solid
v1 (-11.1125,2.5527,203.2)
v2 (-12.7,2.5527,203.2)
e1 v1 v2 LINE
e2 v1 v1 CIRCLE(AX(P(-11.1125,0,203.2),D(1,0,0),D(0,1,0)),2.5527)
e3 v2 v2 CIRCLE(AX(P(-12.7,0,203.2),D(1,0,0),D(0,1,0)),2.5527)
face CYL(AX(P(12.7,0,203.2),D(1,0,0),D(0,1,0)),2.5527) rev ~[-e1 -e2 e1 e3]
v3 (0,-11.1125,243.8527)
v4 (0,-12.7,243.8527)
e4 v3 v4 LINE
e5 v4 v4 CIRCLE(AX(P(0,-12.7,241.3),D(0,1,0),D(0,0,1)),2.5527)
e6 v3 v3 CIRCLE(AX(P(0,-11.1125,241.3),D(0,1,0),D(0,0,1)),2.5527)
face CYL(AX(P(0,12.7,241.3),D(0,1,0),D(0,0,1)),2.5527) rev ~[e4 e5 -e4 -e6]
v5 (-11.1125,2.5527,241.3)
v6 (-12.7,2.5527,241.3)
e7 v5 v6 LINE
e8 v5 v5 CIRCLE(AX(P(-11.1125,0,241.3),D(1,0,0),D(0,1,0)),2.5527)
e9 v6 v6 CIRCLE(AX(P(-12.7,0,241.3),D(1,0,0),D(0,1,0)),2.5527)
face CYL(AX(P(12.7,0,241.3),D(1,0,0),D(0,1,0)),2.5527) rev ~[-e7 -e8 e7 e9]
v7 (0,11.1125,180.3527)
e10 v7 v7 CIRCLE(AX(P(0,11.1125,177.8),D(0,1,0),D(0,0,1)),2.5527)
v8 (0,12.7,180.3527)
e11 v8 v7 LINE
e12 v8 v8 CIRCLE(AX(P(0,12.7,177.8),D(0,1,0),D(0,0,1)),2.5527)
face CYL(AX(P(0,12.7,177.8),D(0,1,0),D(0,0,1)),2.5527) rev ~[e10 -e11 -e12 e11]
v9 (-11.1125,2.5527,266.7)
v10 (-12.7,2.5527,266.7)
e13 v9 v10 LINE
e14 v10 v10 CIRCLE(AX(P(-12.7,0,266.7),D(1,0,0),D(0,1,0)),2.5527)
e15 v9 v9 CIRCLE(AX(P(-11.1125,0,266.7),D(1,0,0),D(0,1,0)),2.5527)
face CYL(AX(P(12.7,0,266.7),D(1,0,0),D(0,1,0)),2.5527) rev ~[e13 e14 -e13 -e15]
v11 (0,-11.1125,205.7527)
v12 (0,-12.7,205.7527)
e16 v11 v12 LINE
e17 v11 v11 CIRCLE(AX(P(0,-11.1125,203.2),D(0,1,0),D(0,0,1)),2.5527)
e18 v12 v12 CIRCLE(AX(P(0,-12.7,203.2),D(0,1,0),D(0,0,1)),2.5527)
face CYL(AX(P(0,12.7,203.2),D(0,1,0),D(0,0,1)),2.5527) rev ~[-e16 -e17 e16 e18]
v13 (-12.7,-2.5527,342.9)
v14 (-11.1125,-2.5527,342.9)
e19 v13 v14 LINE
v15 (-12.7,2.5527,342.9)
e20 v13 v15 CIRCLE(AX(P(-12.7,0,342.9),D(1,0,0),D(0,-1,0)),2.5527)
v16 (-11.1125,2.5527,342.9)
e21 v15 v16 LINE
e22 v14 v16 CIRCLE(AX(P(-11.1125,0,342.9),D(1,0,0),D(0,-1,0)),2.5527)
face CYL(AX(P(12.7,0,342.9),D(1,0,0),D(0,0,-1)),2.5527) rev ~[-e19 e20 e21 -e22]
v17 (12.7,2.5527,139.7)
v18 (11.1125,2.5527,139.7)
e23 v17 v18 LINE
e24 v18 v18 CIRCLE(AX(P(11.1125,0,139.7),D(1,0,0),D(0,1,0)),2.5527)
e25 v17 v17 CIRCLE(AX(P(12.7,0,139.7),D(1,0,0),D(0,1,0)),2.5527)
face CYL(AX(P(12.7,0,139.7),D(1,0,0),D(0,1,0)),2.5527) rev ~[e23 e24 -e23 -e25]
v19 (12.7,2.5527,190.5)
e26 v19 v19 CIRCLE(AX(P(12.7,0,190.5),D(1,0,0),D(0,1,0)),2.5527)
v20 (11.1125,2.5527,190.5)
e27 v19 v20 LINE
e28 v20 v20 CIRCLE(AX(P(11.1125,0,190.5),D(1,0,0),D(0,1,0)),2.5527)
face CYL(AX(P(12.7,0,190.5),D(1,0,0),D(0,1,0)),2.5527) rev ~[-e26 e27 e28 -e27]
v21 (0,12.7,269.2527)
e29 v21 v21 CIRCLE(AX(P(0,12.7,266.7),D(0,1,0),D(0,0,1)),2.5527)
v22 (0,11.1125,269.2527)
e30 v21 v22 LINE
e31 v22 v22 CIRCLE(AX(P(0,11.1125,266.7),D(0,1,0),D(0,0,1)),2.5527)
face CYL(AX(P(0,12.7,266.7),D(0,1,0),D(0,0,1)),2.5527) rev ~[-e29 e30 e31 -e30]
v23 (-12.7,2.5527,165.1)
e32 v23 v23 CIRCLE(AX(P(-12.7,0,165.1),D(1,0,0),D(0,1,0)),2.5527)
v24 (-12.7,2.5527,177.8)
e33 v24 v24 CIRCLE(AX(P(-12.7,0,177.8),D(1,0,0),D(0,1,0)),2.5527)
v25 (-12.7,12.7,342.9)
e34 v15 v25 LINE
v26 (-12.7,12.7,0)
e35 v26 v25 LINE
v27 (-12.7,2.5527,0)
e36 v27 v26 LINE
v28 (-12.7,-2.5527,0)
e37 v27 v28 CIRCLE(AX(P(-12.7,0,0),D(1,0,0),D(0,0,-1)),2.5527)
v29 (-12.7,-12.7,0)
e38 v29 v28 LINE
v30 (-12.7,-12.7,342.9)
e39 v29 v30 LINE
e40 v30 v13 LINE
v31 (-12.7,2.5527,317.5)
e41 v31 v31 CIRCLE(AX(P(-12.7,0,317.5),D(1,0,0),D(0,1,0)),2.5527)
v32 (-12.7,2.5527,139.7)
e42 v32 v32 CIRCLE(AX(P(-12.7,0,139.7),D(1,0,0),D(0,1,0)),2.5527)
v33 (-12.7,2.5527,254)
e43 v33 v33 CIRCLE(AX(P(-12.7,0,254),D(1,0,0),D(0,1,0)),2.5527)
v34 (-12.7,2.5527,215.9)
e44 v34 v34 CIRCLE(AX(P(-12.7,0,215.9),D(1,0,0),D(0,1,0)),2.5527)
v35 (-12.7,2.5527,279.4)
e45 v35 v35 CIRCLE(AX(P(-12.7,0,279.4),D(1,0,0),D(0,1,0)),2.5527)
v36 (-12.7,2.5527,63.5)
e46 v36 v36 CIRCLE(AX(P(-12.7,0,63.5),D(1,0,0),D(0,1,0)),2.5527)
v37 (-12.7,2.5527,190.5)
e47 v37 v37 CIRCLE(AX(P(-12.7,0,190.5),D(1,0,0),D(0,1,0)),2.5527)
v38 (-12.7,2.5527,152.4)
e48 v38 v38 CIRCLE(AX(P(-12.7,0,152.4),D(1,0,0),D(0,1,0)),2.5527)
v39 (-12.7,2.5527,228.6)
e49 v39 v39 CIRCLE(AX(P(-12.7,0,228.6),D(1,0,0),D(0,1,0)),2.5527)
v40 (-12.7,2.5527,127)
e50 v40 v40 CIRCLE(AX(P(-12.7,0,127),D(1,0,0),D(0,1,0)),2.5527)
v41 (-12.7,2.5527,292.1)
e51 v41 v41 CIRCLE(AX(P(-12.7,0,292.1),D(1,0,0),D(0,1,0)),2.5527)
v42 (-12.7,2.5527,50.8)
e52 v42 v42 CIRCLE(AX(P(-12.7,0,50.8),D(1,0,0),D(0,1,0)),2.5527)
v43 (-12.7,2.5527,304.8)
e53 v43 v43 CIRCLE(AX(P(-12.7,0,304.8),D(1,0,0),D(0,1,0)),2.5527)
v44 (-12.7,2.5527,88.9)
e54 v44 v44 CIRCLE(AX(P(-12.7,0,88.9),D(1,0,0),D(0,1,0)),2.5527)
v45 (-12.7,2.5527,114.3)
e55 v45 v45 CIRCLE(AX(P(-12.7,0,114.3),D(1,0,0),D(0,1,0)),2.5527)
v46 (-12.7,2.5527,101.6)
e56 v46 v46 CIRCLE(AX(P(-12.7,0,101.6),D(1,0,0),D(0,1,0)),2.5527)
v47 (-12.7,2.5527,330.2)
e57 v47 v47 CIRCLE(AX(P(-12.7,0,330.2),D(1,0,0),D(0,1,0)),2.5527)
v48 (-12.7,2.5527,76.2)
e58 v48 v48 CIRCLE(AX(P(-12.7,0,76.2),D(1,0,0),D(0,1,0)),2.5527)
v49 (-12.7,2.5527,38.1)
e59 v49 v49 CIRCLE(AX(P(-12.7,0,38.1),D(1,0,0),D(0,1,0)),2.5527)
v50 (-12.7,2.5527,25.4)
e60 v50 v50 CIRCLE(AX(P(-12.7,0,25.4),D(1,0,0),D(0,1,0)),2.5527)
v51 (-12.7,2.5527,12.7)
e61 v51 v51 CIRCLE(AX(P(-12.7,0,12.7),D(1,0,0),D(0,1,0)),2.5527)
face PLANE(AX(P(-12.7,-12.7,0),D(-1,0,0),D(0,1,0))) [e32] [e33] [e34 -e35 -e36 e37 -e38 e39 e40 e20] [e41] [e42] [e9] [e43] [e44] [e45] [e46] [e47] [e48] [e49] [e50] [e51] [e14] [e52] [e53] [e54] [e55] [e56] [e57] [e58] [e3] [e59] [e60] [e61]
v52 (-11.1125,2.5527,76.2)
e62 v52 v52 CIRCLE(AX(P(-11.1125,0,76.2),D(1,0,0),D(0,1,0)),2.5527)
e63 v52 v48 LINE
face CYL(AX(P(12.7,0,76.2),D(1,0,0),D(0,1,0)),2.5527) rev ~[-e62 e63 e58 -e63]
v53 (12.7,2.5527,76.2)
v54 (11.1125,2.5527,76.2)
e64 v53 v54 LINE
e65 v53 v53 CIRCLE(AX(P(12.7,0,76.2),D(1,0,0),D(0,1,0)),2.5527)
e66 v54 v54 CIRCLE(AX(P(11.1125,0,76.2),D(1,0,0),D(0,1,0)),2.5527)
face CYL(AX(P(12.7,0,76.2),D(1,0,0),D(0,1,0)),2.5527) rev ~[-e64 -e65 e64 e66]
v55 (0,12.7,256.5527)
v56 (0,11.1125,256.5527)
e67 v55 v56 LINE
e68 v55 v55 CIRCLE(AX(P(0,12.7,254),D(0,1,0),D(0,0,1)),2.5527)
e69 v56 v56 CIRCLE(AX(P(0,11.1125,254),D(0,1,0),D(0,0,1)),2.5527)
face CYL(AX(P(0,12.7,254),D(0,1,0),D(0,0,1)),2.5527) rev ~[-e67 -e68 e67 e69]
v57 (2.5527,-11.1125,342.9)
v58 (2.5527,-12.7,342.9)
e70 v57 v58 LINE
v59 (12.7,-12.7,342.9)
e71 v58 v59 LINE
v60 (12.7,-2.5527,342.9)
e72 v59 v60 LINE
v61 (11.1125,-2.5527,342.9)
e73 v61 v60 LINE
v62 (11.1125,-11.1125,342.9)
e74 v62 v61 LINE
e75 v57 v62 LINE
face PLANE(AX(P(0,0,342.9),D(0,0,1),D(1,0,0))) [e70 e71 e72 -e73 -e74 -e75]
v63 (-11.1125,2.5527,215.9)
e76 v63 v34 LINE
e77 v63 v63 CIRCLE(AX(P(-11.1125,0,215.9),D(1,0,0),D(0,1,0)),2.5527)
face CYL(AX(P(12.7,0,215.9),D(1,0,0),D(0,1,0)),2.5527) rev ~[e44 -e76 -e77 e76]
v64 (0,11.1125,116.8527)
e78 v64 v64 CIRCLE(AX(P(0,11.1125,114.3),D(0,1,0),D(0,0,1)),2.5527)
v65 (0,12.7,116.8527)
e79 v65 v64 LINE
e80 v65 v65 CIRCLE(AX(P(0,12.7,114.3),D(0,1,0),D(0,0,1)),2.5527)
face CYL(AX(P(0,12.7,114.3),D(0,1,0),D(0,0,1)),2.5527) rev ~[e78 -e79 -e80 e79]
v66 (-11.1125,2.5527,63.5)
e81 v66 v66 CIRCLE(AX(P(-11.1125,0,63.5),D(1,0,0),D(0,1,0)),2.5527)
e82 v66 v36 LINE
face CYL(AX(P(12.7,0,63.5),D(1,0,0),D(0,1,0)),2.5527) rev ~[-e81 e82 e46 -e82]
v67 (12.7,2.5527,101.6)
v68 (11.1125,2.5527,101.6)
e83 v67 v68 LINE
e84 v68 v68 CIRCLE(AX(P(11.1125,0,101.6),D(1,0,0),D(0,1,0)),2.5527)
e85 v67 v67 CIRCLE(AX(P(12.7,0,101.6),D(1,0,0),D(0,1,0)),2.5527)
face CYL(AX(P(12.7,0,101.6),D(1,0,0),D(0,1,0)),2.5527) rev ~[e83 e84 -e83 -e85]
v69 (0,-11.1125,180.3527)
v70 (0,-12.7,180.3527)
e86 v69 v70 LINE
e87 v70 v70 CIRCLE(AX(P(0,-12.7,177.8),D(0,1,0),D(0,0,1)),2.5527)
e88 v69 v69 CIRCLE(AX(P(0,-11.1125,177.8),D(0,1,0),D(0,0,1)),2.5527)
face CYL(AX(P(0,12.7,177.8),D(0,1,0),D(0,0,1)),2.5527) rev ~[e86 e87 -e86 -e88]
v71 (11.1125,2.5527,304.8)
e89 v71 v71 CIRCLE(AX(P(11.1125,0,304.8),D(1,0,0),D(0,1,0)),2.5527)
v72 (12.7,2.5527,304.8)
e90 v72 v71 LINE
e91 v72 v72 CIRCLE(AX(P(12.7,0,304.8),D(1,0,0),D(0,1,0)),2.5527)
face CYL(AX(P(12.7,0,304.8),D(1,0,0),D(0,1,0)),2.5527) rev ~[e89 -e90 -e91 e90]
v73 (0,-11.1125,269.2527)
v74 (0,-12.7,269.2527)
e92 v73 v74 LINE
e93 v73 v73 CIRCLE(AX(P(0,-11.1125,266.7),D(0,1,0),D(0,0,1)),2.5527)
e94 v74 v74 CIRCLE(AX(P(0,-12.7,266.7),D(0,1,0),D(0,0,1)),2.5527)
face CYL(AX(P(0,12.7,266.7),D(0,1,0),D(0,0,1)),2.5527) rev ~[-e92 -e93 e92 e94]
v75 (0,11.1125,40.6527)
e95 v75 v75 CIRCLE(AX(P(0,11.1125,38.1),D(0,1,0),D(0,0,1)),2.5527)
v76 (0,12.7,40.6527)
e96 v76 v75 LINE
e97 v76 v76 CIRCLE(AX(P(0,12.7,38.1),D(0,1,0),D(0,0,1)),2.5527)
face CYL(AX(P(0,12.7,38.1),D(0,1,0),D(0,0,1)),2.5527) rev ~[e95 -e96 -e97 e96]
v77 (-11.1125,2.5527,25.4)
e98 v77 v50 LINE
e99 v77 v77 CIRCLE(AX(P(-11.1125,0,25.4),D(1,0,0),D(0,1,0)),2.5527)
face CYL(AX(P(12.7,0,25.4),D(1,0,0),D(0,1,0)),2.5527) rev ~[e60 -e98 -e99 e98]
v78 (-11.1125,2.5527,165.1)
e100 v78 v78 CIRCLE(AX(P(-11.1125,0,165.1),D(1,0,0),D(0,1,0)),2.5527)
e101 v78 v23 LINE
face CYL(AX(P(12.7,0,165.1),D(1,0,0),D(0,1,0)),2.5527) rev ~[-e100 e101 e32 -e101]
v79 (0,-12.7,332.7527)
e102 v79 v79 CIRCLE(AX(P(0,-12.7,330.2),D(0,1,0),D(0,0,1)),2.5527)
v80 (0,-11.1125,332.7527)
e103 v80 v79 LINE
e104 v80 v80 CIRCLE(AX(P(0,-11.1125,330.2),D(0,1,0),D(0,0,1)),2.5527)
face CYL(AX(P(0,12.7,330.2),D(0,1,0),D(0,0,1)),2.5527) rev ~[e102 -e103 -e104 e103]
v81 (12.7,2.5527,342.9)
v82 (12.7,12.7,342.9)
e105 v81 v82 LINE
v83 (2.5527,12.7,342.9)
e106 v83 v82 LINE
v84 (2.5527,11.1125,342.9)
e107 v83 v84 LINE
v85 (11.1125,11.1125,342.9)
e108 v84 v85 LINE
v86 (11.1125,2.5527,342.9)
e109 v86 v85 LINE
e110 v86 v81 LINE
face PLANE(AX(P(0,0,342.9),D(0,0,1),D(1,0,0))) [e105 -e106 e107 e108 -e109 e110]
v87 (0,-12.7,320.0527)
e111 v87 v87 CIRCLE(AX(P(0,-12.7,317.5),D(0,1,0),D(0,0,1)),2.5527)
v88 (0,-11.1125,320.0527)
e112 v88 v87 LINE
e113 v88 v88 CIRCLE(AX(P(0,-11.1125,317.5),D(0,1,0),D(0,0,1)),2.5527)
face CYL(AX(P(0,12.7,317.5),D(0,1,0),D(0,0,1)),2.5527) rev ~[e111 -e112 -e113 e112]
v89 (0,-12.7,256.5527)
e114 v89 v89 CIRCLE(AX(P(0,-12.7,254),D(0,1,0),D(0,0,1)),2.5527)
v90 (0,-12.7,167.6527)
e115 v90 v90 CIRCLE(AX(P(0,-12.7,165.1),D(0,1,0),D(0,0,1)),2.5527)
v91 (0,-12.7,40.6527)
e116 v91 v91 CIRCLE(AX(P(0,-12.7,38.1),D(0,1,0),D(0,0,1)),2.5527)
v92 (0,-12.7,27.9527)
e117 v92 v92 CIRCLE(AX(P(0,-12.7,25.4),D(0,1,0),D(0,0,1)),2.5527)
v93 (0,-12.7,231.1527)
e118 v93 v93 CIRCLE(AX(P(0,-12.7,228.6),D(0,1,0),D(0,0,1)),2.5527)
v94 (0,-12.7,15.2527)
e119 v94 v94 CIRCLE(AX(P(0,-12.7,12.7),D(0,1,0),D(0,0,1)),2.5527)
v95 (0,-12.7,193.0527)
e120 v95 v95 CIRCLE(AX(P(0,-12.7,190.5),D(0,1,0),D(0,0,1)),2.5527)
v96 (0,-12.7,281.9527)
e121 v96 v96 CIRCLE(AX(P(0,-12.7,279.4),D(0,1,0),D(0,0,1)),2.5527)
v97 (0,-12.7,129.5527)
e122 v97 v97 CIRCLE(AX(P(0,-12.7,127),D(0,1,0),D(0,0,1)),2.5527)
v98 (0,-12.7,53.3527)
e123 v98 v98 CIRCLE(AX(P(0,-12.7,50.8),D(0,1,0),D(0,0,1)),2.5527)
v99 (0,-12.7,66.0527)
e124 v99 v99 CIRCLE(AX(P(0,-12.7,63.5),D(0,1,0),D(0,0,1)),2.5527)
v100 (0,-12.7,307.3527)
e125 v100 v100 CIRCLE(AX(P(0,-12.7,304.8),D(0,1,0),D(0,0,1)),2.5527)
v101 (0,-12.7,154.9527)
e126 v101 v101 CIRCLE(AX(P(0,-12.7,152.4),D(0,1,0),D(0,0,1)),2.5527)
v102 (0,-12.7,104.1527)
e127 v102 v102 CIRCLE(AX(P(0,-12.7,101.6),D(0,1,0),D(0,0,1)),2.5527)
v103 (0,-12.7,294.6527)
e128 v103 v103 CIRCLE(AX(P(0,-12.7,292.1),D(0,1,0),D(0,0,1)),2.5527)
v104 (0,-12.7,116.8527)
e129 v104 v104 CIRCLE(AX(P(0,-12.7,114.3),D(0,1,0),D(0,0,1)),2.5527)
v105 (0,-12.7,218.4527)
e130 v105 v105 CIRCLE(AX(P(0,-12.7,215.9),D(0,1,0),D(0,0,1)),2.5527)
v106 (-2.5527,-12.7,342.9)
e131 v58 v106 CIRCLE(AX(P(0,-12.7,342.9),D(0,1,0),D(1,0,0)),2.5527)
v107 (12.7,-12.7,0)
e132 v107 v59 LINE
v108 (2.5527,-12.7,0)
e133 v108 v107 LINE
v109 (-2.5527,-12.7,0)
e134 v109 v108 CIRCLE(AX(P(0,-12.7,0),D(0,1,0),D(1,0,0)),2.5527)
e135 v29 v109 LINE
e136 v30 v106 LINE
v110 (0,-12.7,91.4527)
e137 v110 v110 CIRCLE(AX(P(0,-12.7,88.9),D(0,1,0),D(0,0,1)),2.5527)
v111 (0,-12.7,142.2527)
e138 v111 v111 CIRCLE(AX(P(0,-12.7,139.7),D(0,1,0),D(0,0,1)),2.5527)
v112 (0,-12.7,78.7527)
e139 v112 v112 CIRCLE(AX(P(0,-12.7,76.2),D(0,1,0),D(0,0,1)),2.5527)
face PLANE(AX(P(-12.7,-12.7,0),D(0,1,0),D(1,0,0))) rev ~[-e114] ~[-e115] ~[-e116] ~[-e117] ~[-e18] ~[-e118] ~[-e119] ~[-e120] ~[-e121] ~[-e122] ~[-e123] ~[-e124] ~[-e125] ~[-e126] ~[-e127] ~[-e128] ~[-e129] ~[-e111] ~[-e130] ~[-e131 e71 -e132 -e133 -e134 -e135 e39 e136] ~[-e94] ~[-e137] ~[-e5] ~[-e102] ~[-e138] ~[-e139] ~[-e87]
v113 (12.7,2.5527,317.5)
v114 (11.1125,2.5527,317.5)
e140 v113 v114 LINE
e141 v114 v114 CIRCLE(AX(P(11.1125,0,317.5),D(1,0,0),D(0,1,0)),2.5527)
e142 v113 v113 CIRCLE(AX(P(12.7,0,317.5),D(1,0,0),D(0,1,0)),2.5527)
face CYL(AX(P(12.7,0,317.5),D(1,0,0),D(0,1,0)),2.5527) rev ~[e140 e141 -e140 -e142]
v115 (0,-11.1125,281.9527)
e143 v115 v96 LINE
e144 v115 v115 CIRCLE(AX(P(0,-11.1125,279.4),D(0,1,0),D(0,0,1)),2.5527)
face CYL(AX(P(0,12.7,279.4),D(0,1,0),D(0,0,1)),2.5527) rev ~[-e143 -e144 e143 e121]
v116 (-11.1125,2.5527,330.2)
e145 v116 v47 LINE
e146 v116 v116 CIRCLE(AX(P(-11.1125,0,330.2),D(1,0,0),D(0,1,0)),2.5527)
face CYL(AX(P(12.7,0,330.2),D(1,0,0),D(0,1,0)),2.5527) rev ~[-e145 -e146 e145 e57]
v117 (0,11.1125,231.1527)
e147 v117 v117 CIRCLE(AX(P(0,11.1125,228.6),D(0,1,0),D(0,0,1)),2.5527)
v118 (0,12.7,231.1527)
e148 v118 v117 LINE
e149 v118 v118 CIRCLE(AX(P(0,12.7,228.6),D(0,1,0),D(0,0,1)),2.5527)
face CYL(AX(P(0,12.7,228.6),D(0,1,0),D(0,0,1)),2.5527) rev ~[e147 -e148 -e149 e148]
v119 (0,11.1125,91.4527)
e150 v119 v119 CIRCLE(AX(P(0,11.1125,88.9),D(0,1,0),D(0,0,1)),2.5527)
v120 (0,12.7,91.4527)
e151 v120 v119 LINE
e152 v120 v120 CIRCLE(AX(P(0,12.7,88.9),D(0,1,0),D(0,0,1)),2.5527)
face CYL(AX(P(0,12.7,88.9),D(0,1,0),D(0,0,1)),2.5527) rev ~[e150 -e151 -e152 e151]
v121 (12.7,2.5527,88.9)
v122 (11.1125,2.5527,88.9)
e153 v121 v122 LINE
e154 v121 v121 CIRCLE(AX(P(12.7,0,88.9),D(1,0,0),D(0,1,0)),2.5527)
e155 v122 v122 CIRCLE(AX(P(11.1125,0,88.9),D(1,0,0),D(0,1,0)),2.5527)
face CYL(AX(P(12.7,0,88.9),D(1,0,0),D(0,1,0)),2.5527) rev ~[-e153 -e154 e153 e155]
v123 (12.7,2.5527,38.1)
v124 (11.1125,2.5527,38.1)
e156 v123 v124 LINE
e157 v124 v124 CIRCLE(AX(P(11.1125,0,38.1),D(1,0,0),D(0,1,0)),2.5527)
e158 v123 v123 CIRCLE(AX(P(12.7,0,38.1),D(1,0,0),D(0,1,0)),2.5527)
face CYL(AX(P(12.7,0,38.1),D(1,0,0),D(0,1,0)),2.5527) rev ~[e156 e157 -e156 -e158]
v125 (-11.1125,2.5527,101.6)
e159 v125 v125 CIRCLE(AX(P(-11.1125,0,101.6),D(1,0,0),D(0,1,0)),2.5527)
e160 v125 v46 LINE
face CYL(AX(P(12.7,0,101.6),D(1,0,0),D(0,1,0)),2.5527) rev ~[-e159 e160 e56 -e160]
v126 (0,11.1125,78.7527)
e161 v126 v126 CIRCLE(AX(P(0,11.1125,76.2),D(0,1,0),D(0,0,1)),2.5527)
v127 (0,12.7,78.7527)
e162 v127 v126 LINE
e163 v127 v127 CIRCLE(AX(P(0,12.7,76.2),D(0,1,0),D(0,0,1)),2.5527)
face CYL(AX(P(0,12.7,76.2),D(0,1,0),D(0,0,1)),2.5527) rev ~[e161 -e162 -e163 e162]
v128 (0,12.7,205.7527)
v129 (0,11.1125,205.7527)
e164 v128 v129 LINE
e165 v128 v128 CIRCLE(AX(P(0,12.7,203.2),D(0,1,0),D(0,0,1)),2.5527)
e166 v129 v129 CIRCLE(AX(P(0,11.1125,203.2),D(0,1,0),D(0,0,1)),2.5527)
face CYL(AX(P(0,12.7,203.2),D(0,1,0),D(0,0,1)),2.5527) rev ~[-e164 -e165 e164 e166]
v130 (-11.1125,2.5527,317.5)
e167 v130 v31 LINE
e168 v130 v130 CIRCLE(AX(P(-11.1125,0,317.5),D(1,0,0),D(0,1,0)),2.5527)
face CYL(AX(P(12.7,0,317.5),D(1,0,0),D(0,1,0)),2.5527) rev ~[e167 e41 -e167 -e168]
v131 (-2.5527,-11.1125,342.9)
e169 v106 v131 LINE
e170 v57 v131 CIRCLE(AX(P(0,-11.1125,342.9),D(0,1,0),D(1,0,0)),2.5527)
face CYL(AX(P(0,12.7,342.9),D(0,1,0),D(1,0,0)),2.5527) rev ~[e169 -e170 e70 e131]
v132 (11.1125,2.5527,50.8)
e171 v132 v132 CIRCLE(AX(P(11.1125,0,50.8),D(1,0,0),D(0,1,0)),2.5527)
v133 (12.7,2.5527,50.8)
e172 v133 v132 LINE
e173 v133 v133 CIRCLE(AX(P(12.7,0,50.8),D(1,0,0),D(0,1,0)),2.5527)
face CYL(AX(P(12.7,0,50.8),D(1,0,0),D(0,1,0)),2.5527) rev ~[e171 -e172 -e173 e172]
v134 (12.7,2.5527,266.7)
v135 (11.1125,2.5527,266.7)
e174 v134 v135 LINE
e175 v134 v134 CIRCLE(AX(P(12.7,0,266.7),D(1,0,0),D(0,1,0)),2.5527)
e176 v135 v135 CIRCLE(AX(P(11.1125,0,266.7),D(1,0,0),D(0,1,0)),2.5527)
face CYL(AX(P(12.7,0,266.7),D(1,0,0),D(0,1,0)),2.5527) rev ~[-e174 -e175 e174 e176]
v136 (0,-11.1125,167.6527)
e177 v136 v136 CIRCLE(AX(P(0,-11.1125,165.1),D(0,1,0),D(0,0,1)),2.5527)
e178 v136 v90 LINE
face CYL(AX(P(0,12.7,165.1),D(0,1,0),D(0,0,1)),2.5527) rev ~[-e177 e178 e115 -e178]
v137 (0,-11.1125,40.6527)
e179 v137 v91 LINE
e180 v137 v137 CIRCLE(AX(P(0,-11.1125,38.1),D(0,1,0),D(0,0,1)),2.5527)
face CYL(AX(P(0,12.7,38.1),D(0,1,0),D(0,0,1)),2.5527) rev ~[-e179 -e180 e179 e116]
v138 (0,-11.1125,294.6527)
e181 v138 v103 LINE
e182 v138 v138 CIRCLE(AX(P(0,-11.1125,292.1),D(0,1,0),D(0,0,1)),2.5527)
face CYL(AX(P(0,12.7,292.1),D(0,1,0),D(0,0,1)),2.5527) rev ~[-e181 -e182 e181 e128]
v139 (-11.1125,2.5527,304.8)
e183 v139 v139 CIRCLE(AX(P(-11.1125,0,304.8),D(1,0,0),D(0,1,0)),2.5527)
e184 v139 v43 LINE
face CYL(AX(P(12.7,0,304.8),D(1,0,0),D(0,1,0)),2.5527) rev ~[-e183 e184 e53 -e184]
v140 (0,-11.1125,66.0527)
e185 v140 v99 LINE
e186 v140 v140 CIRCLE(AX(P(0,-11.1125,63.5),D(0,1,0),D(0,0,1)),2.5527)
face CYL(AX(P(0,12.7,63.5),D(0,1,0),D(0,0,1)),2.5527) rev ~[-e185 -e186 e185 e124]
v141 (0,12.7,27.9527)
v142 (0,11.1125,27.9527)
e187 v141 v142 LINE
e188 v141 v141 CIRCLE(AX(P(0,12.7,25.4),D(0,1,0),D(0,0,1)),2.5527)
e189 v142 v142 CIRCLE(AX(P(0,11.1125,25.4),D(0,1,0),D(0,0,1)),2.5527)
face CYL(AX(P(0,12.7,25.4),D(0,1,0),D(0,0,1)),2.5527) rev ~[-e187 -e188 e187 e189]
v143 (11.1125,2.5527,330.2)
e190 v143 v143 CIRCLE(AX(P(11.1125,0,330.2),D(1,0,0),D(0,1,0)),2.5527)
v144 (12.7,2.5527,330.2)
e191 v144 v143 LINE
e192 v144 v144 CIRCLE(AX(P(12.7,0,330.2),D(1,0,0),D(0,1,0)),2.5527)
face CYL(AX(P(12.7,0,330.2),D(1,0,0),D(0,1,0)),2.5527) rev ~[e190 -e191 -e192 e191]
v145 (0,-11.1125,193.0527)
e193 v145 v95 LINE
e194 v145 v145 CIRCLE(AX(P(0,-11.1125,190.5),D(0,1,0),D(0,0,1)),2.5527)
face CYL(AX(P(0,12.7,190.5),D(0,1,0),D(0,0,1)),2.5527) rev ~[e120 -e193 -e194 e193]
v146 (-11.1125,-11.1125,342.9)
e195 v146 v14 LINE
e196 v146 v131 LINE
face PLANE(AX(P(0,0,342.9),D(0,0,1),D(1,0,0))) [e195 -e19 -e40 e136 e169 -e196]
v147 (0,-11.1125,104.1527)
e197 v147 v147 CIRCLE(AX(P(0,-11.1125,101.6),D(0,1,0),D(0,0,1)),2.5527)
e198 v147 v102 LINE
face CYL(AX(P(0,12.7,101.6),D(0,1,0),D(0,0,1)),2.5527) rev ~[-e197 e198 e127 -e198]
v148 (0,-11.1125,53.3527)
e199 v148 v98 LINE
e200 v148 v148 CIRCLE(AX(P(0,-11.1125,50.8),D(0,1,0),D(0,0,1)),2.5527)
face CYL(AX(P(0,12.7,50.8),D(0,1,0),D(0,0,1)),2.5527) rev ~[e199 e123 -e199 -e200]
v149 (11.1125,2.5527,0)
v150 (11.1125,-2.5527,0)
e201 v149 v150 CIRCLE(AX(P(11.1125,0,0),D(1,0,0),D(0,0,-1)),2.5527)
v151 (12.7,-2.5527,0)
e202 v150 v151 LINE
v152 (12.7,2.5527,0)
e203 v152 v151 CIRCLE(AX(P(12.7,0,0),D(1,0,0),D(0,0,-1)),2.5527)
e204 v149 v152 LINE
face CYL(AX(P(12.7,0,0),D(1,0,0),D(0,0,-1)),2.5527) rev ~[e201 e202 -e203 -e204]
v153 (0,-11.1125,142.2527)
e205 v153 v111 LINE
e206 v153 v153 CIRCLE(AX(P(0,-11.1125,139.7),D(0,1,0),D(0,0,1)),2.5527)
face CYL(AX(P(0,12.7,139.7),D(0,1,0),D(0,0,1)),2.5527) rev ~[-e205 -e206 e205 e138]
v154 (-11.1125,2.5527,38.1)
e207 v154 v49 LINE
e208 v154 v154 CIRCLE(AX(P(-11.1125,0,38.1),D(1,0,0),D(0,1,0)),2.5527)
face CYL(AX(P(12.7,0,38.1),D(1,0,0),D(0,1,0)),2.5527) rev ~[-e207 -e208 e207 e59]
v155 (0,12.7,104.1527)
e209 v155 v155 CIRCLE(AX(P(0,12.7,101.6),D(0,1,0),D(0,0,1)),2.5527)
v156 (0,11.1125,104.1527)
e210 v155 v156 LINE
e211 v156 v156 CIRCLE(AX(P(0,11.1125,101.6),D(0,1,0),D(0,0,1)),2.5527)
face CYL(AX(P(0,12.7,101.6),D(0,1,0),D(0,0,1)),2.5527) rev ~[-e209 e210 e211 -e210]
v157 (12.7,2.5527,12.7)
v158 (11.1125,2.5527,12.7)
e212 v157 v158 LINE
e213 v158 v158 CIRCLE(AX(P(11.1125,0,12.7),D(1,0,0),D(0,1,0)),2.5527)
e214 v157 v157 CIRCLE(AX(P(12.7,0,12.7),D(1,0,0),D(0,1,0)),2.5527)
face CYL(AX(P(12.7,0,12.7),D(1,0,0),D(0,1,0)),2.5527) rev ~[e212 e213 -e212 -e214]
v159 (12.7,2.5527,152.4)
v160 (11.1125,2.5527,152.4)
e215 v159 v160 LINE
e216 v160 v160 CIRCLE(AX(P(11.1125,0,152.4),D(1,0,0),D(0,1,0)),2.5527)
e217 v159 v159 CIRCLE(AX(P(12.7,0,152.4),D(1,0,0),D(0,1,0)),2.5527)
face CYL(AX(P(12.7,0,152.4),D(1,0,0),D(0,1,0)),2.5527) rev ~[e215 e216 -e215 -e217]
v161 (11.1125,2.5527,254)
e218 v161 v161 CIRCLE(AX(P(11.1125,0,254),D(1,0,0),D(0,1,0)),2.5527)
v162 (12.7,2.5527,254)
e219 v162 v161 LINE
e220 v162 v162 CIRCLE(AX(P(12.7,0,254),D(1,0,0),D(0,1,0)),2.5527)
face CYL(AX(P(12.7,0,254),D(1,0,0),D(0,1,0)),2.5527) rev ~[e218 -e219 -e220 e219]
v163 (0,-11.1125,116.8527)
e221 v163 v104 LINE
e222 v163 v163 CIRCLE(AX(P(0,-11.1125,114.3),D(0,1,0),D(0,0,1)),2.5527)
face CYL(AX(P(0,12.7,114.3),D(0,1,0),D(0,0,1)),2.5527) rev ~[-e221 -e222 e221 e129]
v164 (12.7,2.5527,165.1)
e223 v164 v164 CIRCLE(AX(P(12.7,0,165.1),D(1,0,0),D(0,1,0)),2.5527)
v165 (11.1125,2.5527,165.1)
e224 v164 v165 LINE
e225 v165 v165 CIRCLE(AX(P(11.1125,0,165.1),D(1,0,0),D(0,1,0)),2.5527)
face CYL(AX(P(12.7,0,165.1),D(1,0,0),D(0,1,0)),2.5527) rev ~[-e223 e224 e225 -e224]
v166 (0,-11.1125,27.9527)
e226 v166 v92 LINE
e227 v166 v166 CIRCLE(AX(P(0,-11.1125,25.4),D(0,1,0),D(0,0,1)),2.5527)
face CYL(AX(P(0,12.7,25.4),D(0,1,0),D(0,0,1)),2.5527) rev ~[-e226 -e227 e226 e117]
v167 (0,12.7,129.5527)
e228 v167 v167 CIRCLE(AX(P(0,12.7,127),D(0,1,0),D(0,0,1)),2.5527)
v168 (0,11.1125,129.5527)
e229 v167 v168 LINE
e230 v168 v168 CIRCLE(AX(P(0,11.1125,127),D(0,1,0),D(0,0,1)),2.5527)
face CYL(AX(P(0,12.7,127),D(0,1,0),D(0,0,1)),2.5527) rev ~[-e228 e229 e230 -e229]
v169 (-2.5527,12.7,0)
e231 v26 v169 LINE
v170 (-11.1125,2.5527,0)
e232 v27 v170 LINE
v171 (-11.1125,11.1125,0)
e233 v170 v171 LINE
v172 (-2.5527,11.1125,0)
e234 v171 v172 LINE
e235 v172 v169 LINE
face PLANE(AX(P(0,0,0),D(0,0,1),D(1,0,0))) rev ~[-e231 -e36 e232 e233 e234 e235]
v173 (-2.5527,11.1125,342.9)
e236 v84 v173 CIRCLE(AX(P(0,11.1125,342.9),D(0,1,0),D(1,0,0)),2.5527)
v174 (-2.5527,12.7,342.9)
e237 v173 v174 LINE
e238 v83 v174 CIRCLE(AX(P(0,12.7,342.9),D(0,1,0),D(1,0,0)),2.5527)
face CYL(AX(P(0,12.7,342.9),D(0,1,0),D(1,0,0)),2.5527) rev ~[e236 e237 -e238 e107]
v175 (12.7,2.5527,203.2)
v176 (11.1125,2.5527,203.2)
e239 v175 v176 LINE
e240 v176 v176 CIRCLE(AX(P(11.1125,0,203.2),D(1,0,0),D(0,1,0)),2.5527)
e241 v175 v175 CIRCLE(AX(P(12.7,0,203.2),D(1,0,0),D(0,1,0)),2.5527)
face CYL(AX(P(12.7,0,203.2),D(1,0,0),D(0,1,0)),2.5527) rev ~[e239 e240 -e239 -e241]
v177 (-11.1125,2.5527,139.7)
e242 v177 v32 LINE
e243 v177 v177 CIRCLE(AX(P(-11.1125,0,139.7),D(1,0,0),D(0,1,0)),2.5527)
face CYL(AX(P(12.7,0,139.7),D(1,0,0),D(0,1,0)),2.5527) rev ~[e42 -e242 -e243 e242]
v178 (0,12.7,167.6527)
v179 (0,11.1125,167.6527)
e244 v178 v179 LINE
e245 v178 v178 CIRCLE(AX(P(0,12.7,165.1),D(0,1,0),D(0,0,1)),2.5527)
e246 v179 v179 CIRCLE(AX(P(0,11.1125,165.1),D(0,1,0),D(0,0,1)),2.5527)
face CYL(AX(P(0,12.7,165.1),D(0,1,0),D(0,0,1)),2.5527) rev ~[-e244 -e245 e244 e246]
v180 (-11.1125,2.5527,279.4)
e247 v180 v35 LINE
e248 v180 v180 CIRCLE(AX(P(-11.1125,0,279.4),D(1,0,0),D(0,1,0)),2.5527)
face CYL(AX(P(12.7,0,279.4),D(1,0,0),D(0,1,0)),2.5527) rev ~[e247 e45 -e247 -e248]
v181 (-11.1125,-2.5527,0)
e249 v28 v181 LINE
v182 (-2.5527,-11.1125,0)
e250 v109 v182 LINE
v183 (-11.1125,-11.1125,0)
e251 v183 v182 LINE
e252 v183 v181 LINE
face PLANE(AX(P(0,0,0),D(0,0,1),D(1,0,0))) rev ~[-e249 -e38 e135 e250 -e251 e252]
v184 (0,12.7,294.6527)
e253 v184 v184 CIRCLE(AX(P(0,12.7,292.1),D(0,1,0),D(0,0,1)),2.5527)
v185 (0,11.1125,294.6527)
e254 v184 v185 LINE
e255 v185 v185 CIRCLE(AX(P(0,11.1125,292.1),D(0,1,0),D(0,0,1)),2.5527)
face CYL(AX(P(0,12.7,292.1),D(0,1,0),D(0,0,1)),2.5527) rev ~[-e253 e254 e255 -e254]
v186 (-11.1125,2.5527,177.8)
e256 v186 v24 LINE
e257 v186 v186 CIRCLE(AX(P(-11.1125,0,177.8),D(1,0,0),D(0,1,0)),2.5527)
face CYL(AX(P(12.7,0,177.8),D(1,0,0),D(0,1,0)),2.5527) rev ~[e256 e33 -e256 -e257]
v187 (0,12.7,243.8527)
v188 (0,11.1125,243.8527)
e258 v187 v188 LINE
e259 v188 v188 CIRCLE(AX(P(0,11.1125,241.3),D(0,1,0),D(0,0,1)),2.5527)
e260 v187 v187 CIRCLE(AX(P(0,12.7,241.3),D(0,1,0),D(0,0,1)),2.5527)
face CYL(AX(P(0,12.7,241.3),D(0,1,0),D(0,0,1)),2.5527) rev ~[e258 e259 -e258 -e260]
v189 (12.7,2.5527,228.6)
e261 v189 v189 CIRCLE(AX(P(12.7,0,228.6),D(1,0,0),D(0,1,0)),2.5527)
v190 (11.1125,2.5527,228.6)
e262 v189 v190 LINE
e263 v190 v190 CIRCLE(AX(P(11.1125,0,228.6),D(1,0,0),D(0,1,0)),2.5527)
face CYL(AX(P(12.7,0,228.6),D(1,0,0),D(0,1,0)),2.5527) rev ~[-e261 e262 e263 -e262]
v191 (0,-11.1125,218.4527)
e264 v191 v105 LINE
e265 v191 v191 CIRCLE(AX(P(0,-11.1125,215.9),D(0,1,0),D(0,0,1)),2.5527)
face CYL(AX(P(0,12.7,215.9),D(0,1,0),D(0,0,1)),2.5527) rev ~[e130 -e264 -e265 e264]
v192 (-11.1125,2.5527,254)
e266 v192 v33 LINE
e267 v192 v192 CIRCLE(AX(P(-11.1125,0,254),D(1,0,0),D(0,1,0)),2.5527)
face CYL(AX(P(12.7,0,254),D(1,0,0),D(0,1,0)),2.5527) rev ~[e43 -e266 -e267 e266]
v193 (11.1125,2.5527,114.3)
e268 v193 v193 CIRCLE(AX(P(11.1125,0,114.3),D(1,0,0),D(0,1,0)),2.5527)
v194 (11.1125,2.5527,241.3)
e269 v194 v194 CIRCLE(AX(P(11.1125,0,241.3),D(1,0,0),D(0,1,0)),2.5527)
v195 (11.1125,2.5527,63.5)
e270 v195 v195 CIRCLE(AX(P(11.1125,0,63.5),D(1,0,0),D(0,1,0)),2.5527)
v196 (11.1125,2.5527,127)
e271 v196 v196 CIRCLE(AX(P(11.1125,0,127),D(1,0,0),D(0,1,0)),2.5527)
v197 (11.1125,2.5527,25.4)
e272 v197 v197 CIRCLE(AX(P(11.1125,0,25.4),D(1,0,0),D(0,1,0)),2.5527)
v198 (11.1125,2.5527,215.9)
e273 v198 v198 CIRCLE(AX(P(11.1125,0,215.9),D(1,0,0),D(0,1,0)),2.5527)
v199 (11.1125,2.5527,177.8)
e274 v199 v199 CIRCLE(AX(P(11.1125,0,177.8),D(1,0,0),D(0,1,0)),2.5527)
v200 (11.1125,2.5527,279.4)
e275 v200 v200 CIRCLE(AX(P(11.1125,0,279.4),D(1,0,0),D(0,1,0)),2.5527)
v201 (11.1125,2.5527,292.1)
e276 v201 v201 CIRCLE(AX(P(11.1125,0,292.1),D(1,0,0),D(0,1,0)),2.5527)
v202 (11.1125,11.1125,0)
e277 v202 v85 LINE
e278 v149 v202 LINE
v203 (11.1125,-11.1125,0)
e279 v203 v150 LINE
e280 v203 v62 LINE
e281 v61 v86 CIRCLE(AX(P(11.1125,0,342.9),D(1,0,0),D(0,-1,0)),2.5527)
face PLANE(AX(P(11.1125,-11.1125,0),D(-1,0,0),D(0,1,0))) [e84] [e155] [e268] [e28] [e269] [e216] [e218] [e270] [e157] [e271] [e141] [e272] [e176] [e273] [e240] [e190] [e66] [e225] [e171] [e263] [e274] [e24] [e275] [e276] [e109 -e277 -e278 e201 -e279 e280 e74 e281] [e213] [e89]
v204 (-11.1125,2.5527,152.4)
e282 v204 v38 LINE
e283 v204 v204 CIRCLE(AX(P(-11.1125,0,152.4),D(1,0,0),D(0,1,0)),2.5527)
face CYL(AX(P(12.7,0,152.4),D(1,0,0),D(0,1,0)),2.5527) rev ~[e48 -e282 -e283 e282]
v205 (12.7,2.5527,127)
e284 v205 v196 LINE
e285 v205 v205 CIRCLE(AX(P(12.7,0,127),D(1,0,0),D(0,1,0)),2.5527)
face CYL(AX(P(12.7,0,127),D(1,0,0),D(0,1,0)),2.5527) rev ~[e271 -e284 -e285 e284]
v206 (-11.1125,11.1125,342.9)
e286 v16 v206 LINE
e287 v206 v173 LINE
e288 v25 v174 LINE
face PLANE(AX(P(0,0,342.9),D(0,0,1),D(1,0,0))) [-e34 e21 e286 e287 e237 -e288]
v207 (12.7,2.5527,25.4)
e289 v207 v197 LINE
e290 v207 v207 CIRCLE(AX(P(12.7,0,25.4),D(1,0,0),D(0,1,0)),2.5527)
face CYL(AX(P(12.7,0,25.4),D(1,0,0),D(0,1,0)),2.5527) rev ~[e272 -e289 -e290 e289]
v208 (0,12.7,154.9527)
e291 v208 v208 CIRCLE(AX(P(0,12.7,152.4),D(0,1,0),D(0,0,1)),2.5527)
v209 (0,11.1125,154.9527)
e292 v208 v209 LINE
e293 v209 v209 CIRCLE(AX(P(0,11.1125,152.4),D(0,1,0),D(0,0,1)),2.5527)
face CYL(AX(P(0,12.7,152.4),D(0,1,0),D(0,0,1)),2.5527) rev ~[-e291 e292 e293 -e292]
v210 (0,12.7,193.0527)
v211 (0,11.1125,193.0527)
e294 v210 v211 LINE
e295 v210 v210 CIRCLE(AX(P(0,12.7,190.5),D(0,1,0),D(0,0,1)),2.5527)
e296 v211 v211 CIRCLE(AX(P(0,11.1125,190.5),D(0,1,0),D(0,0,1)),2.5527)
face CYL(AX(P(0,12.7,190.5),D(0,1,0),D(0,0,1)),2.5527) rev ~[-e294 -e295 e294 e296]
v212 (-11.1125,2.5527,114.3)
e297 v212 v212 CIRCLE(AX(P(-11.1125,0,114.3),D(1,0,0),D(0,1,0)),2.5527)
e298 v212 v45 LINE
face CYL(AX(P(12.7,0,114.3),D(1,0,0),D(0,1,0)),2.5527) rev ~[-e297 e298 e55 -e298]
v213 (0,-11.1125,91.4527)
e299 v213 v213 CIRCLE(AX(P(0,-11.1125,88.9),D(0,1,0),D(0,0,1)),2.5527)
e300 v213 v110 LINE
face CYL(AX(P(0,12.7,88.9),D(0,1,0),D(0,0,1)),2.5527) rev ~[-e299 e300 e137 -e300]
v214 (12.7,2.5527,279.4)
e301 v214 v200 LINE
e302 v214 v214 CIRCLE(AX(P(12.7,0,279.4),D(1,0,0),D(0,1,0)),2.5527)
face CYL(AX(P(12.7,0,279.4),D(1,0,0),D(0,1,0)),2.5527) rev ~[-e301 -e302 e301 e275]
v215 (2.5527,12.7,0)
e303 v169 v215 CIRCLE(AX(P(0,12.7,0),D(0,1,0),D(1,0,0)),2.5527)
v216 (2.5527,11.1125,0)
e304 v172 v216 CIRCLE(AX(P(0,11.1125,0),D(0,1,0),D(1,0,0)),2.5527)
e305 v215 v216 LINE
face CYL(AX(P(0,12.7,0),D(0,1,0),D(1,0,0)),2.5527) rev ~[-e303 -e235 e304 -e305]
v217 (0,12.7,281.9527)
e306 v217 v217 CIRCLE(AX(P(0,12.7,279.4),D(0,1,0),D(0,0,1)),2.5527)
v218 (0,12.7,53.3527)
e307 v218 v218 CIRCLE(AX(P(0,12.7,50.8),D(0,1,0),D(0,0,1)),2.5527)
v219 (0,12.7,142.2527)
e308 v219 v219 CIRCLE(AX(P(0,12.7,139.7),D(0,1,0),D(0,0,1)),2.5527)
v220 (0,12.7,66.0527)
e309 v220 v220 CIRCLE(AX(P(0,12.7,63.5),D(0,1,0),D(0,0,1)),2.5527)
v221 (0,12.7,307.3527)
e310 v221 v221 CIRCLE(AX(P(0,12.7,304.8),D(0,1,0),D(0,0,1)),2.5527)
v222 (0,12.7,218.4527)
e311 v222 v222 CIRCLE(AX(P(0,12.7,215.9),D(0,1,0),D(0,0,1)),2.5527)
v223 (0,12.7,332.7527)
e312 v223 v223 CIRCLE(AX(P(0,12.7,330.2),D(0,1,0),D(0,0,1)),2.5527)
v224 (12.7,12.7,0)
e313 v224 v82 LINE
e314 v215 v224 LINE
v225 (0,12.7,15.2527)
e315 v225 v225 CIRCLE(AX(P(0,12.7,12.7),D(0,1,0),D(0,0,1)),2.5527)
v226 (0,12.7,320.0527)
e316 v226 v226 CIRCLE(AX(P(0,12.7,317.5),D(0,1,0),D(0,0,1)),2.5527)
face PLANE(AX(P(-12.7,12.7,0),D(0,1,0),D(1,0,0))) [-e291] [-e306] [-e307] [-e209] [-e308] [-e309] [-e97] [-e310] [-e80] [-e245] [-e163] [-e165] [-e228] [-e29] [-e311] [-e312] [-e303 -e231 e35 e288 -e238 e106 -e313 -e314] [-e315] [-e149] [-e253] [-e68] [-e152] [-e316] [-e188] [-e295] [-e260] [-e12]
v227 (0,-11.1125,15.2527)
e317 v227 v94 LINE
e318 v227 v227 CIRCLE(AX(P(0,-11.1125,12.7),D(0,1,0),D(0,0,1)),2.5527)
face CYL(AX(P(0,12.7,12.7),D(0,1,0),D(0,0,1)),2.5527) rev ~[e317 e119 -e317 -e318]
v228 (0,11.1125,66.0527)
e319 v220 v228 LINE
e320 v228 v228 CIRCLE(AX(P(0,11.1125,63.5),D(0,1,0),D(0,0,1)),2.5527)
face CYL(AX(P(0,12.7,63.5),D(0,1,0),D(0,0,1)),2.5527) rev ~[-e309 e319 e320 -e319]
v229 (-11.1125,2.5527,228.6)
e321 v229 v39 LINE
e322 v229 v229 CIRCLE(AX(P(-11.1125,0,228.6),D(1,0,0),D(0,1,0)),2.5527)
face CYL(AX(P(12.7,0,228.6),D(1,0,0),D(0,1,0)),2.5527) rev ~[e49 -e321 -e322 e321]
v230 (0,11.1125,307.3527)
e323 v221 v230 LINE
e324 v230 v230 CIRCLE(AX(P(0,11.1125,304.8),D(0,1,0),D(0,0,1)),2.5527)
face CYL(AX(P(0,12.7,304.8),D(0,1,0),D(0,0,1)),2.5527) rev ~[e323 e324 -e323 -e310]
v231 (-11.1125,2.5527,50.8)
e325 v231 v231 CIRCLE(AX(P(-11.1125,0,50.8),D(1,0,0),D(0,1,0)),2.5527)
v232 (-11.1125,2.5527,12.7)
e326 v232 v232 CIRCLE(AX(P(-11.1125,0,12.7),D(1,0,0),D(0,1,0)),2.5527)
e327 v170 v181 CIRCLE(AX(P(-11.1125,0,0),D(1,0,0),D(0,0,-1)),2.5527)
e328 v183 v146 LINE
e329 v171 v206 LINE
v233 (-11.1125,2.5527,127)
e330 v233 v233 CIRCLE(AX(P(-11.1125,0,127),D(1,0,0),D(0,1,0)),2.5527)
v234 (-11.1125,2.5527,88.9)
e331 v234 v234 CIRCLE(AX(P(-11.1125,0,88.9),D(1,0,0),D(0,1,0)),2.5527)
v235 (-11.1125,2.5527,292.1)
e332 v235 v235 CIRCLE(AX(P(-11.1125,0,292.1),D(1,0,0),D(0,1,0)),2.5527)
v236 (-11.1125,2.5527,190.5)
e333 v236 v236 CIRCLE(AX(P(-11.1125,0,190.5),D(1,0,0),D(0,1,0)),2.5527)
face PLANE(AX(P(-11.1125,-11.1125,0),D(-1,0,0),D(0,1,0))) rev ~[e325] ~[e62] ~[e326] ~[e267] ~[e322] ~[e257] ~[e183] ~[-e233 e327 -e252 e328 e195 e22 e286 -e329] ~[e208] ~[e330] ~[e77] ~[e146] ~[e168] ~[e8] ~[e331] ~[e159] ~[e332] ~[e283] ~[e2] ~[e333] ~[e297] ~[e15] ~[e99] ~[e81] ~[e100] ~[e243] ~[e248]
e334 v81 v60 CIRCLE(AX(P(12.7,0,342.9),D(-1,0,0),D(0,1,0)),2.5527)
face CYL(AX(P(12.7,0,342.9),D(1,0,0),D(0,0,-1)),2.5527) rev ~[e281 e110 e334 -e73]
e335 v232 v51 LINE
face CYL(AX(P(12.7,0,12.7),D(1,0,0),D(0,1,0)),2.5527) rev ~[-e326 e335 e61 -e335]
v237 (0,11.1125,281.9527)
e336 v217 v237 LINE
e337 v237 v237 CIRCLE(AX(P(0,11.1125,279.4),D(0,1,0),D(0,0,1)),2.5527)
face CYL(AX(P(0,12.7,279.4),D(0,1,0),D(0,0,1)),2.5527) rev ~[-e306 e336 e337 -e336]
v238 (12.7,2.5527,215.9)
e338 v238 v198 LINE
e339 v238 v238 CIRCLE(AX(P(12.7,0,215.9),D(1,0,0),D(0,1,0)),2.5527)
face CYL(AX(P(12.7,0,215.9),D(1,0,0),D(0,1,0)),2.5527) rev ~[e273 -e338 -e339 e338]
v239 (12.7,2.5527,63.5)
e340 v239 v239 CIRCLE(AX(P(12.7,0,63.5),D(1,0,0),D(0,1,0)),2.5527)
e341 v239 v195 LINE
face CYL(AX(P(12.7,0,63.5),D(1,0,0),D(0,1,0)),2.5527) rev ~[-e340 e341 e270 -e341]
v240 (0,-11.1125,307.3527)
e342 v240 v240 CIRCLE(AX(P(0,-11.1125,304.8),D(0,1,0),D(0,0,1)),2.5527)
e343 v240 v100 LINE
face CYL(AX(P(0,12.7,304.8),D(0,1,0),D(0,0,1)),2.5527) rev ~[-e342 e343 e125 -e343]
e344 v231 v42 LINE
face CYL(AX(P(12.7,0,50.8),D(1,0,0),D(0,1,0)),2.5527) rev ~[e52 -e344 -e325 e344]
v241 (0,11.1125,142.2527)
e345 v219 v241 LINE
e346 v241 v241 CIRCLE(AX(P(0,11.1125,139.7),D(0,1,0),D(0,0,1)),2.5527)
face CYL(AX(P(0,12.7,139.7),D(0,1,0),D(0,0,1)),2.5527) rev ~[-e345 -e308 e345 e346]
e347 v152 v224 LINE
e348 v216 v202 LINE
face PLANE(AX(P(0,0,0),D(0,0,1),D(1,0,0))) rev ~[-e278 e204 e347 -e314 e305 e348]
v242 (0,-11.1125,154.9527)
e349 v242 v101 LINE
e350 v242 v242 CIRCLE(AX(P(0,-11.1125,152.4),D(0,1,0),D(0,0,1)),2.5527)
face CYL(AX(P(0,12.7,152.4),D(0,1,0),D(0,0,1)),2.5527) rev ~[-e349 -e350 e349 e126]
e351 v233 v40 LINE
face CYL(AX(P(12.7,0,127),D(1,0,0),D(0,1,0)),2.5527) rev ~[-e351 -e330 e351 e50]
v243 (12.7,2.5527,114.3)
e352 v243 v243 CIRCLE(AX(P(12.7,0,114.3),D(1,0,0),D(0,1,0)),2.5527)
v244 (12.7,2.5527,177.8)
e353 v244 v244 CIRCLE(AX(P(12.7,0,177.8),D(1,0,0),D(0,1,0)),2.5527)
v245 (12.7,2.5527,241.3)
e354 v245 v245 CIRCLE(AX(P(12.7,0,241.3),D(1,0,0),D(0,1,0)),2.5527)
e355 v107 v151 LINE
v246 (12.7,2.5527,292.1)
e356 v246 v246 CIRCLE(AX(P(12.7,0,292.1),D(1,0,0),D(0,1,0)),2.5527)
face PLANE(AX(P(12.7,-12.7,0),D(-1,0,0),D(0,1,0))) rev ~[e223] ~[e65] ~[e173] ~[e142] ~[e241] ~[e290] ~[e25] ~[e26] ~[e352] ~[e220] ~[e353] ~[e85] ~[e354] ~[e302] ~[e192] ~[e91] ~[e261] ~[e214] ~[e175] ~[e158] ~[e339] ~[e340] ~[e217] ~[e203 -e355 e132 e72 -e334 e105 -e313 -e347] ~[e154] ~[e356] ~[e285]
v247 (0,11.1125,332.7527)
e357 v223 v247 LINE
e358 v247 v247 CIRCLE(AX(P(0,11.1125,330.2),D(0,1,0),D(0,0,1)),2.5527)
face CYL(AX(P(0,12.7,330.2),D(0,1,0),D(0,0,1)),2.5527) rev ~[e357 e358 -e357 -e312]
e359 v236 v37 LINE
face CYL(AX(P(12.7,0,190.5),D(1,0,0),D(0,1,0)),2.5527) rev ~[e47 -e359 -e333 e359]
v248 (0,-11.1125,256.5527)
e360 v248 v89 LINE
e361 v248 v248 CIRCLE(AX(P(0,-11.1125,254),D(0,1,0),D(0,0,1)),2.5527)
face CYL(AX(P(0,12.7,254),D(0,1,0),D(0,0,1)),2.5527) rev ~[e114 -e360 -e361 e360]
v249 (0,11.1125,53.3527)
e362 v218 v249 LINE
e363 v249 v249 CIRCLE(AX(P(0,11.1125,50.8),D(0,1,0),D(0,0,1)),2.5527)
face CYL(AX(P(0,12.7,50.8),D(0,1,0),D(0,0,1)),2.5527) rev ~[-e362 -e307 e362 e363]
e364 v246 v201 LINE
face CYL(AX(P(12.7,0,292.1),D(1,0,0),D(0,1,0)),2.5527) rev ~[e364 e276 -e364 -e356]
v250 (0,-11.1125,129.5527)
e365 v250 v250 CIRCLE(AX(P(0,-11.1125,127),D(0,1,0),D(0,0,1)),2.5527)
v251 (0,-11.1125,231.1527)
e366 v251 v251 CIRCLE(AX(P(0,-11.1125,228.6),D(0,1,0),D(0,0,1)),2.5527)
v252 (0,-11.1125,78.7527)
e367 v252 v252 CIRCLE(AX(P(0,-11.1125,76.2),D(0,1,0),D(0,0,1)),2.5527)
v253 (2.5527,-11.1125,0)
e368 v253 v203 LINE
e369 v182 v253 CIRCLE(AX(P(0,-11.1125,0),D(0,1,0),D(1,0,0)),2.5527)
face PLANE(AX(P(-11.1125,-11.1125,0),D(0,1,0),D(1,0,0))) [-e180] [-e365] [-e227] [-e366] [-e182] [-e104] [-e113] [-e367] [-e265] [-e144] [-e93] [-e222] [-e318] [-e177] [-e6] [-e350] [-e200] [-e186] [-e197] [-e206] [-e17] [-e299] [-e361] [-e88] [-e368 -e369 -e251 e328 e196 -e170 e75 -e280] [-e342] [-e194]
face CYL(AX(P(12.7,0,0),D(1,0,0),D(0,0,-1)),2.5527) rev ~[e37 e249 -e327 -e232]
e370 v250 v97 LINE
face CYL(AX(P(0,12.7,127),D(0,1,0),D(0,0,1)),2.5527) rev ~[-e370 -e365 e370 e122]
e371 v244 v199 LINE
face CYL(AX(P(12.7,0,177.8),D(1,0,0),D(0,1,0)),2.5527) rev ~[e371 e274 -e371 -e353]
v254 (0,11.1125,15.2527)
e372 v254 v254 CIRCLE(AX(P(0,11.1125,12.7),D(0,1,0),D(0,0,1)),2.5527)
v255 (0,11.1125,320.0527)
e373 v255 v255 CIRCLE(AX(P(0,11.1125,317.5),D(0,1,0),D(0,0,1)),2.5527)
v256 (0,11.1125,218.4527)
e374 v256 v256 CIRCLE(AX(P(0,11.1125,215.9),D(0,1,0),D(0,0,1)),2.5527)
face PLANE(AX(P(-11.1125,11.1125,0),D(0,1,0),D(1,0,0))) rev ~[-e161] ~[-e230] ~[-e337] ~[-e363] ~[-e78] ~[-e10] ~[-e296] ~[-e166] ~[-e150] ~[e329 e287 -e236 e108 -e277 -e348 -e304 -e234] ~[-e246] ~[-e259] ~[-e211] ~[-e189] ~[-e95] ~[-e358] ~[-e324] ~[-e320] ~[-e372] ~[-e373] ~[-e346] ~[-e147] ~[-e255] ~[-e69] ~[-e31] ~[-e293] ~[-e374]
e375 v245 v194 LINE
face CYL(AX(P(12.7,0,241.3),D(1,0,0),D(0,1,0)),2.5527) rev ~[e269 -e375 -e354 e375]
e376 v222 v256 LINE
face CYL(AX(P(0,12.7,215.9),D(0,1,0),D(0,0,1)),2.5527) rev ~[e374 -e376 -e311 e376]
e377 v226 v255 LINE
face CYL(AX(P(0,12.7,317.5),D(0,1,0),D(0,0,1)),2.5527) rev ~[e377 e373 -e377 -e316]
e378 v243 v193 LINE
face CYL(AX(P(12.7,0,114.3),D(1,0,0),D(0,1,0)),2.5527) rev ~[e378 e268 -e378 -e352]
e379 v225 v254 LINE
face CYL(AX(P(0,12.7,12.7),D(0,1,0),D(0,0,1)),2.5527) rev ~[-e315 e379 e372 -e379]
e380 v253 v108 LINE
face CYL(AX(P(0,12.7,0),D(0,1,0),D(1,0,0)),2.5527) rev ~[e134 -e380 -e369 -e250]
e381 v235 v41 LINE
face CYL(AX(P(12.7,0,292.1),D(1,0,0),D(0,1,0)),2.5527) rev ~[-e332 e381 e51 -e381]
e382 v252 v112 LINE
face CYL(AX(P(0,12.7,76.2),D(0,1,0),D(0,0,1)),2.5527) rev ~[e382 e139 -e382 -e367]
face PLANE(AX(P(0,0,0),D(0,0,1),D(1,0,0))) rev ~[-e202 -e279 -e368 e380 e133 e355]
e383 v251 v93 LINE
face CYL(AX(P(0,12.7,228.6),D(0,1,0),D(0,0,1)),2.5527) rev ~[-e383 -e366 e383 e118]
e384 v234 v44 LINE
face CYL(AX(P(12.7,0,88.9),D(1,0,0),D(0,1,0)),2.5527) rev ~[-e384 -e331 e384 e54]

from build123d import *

# Parameters (mm, degrees)
SKETCH1_W           = 25.4
SKETCH1_H           = 25.4
SKETCH1_W_2         = 22.225
SKETCH1_H_2         = 22.225
BOSS_EXTRUDE1_DEPTH = 342.9
SKETCH2_R           = 2.5527
CUT_EXTRUDE1_DEPTH  = 345.073916477
SKETCH3_R           = 2.5527
CUT_EXTRUDE2_DEPTH  = 345.073916477


with BuildPart() as part:
    # Sketch1 → Boss-Extrude1 (new body)
    with BuildSketch(Plane.XY):
        Rectangle(SKETCH1_W, SKETCH1_H)
        Rectangle(SKETCH1_W_2, SKETCH1_H_2, mode=Mode.SUBTRACT)
    extrude(amount=BOSS_EXTRUDE1_DEPTH)

    # Sketch2 → Cut-Extrude1 (cut, through all)
    with BuildSketch(Plane(origin=(0, 12.7, 0), x_dir=(1, 0, 0), z_dir=(0, 1, 0))):
        Circle(SKETCH2_R)
        with Locations(Location((0, -12.7, 0), (0, 0, 270))):
            Circle(SKETCH2_R)
        with Locations(Location((0, -25.4, 0), (0, 0, 270))):
            Circle(SKETCH2_R)
        with Locations(Location((0, -38.1, 0), (0, 0, 270))):
            Circle(SKETCH2_R)
        with Locations(Location((0, -50.8, 0), (0, 0, 270))):
            Circle(SKETCH2_R)
        with Locations(Location((0, -63.5, 0), (0, 0, 270))):
            Circle(SKETCH2_R)
        with Locations(Location((0, -76.2, 0), (0, 0, 270))):
            Circle(SKETCH2_R)
        with Locations(Location((0, -88.9, 0), (0, 0, 270))):
            Circle(SKETCH2_R)
        with Locations(Location((0, -101.6, 0), (0, 0, 270))):
            Circle(SKETCH2_R)
        with Locations(Location((0, -114.3, 0), (0, 0, 270))):
            Circle(SKETCH2_R)
        with Locations(Location((0, -127, 0), (0, 0, 270))):
            Circle(SKETCH2_R)
        with Locations(Location((0, -139.7, 0), (0, 0, 270))):
            Circle(SKETCH2_R)
        with Locations(Location((0, -152.4, 0), (0, 0, 270))):
            Circle(SKETCH2_R)
        with Locations(Location((0, -165.1, 0), (0, 0, 270))):
            Circle(SKETCH2_R)
        with Locations(Location((0, -177.8, 0), (0, 0, 270))):
            Circle(SKETCH2_R)
        with Locations(Location((0, -190.5, 0), (0, 0, 270))):
            Circle(SKETCH2_R)
        with Locations(Location((0, -203.2, 0), (0, 0, 270))):
            Circle(SKETCH2_R)
        with Locations(Location((0, -215.9, 0), (0, 0, 270))):
            Circle(SKETCH2_R)
        with Locations(Location((0, -228.6, 0), (0, 0, 270))):
            Circle(SKETCH2_R)
        with Locations(Location((0, -241.3, 0), (0, 0, 270))):
            Circle(SKETCH2_R)
        with Locations(Location((0, -254, 0), (0, 0, 270))):
            Circle(SKETCH2_R)
        with Locations(Location((0, -266.7, 0), (0, 0, 270))):
            Circle(SKETCH2_R)
        with Locations(Location((0, -279.4, 0), (0, 0, 270))):
            Circle(SKETCH2_R)
        with Locations(Location((0, -292.1, 0), (0, 0, 270))):
            Circle(SKETCH2_R)
        with Locations(Location((0, -304.8, 0), (0, 0, 270))):
            Circle(SKETCH2_R)
        with Locations(Location((0, -317.5, 0), (0, 0, 270))):
            Circle(SKETCH2_R)
        with Locations(Location((0, -330.2, 0), (0, 0, 270))):
            Circle(SKETCH2_R)
        with Locations((0, -342.9)):
            Circle(SKETCH2_R)
        with Locations((0, -355.6)):
            Circle(SKETCH2_R)
        with Locations((0, -368.3)):
            Circle(SKETCH2_R)
    extrude(amount=-CUT_EXTRUDE1_DEPTH, mode=Mode.SUBTRACT)

    # Sketch3 → Cut-Extrude2 (cut, through all)
    with BuildSketch(Plane(origin=(12.7, 0, 0), x_dir=(0, 0, -1), z_dir=(1, 0, 0))):
        Circle(SKETCH3_R)
        with Locations(Location((-12.7, 0, 0), (0, 0, 90))):
            Circle(SKETCH3_R)
        with Locations(Location((-25.4, 0, 0), (0, 0, 90))):
            Circle(SKETCH3_R)
        with Locations(Location((-38.1, 0, 0), (0, 0, 90))):
            Circle(SKETCH3_R)
        with Locations(Location((-50.8, 0, 0), (0, 0, 90))):
            Circle(SKETCH3_R)
        with Locations(Location((-63.5, 0, 0), (0, 0, 90))):
            Circle(SKETCH3_R)
        with Locations(Location((-76.2, 0, 0), (0, 0, 90))):
            Circle(SKETCH3_R)
        with Locations(Location((-88.9, 0, 0), (0, 0, 90))):
            Circle(SKETCH3_R)
        with Locations(Location((-101.6, 0, 0), (0, 0, 90))):
            Circle(SKETCH3_R)
        with Locations(Location((-114.3, 0, 0), (0, 0, 90))):
            Circle(SKETCH3_R)
        with Locations(Location((-127, 0, 0), (0, 0, 90))):
            Circle(SKETCH3_R)
        with Locations(Location((-139.7, 0, 0), (0, 0, 90))):
            Circle(SKETCH3_R)
        with Locations(Location((-152.4, 0, 0), (0, 0, 90))):
            Circle(SKETCH3_R)
        with Locations(Location((-165.1, 0, 0), (0, 0, 90))):
            Circle(SKETCH3_R)
        with Locations(Location((-177.8, 0, 0), (0, 0, 90))):
            Circle(SKETCH3_R)
        with Locations(Location((-190.5, 0, 0), (0, 0, 90))):
            Circle(SKETCH3_R)
        with Locations(Location((-203.2, 0, 0), (0, 0, 90))):
            Circle(SKETCH3_R)
        with Locations(Location((-215.9, 0, 0), (0, 0, 90))):
            Circle(SKETCH3_R)
        with Locations(Location((-228.6, 0, 0), (0, 0, 90))):
            Circle(SKETCH3_R)
        with Locations(Location((-241.3, 0, 0), (0, 0, 90))):
            Circle(SKETCH3_R)
        with Locations(Location((-254, 0, 0), (0, 0, 90))):
            Circle(SKETCH3_R)
        with Locations(Location((-266.7, 0, 0), (0, 0, 90))):
            Circle(SKETCH3_R)
        with Locations(Location((-279.4, 0, 0), (0, 0, 90))):
            Circle(SKETCH3_R)
        with Locations(Location((-292.1, 0, 0), (0, 0, 90))):
            Circle(SKETCH3_R)
        with Locations(Location((-304.8, 0, 0), (0, 0, 90))):
            Circle(SKETCH3_R)
        with Locations(Location((-317.5, 0, 0), (0, 0, 90))):
            Circle(SKETCH3_R)
        with Locations(Location((-330.2, 0, 0), (0, 0, 90))):
            Circle(SKETCH3_R)
        with Locations((-342.9, 0)):
            Circle(SKETCH3_R)
        with Locations((-355.6, 0)):
            Circle(SKETCH3_R)
        with Locations((-368.3, 0)):
            Circle(SKETCH3_R)
    extrude(amount=-CUT_EXTRUDE2_DEPTH, mode=Mode.SUBTRACT)


solid = part.part
